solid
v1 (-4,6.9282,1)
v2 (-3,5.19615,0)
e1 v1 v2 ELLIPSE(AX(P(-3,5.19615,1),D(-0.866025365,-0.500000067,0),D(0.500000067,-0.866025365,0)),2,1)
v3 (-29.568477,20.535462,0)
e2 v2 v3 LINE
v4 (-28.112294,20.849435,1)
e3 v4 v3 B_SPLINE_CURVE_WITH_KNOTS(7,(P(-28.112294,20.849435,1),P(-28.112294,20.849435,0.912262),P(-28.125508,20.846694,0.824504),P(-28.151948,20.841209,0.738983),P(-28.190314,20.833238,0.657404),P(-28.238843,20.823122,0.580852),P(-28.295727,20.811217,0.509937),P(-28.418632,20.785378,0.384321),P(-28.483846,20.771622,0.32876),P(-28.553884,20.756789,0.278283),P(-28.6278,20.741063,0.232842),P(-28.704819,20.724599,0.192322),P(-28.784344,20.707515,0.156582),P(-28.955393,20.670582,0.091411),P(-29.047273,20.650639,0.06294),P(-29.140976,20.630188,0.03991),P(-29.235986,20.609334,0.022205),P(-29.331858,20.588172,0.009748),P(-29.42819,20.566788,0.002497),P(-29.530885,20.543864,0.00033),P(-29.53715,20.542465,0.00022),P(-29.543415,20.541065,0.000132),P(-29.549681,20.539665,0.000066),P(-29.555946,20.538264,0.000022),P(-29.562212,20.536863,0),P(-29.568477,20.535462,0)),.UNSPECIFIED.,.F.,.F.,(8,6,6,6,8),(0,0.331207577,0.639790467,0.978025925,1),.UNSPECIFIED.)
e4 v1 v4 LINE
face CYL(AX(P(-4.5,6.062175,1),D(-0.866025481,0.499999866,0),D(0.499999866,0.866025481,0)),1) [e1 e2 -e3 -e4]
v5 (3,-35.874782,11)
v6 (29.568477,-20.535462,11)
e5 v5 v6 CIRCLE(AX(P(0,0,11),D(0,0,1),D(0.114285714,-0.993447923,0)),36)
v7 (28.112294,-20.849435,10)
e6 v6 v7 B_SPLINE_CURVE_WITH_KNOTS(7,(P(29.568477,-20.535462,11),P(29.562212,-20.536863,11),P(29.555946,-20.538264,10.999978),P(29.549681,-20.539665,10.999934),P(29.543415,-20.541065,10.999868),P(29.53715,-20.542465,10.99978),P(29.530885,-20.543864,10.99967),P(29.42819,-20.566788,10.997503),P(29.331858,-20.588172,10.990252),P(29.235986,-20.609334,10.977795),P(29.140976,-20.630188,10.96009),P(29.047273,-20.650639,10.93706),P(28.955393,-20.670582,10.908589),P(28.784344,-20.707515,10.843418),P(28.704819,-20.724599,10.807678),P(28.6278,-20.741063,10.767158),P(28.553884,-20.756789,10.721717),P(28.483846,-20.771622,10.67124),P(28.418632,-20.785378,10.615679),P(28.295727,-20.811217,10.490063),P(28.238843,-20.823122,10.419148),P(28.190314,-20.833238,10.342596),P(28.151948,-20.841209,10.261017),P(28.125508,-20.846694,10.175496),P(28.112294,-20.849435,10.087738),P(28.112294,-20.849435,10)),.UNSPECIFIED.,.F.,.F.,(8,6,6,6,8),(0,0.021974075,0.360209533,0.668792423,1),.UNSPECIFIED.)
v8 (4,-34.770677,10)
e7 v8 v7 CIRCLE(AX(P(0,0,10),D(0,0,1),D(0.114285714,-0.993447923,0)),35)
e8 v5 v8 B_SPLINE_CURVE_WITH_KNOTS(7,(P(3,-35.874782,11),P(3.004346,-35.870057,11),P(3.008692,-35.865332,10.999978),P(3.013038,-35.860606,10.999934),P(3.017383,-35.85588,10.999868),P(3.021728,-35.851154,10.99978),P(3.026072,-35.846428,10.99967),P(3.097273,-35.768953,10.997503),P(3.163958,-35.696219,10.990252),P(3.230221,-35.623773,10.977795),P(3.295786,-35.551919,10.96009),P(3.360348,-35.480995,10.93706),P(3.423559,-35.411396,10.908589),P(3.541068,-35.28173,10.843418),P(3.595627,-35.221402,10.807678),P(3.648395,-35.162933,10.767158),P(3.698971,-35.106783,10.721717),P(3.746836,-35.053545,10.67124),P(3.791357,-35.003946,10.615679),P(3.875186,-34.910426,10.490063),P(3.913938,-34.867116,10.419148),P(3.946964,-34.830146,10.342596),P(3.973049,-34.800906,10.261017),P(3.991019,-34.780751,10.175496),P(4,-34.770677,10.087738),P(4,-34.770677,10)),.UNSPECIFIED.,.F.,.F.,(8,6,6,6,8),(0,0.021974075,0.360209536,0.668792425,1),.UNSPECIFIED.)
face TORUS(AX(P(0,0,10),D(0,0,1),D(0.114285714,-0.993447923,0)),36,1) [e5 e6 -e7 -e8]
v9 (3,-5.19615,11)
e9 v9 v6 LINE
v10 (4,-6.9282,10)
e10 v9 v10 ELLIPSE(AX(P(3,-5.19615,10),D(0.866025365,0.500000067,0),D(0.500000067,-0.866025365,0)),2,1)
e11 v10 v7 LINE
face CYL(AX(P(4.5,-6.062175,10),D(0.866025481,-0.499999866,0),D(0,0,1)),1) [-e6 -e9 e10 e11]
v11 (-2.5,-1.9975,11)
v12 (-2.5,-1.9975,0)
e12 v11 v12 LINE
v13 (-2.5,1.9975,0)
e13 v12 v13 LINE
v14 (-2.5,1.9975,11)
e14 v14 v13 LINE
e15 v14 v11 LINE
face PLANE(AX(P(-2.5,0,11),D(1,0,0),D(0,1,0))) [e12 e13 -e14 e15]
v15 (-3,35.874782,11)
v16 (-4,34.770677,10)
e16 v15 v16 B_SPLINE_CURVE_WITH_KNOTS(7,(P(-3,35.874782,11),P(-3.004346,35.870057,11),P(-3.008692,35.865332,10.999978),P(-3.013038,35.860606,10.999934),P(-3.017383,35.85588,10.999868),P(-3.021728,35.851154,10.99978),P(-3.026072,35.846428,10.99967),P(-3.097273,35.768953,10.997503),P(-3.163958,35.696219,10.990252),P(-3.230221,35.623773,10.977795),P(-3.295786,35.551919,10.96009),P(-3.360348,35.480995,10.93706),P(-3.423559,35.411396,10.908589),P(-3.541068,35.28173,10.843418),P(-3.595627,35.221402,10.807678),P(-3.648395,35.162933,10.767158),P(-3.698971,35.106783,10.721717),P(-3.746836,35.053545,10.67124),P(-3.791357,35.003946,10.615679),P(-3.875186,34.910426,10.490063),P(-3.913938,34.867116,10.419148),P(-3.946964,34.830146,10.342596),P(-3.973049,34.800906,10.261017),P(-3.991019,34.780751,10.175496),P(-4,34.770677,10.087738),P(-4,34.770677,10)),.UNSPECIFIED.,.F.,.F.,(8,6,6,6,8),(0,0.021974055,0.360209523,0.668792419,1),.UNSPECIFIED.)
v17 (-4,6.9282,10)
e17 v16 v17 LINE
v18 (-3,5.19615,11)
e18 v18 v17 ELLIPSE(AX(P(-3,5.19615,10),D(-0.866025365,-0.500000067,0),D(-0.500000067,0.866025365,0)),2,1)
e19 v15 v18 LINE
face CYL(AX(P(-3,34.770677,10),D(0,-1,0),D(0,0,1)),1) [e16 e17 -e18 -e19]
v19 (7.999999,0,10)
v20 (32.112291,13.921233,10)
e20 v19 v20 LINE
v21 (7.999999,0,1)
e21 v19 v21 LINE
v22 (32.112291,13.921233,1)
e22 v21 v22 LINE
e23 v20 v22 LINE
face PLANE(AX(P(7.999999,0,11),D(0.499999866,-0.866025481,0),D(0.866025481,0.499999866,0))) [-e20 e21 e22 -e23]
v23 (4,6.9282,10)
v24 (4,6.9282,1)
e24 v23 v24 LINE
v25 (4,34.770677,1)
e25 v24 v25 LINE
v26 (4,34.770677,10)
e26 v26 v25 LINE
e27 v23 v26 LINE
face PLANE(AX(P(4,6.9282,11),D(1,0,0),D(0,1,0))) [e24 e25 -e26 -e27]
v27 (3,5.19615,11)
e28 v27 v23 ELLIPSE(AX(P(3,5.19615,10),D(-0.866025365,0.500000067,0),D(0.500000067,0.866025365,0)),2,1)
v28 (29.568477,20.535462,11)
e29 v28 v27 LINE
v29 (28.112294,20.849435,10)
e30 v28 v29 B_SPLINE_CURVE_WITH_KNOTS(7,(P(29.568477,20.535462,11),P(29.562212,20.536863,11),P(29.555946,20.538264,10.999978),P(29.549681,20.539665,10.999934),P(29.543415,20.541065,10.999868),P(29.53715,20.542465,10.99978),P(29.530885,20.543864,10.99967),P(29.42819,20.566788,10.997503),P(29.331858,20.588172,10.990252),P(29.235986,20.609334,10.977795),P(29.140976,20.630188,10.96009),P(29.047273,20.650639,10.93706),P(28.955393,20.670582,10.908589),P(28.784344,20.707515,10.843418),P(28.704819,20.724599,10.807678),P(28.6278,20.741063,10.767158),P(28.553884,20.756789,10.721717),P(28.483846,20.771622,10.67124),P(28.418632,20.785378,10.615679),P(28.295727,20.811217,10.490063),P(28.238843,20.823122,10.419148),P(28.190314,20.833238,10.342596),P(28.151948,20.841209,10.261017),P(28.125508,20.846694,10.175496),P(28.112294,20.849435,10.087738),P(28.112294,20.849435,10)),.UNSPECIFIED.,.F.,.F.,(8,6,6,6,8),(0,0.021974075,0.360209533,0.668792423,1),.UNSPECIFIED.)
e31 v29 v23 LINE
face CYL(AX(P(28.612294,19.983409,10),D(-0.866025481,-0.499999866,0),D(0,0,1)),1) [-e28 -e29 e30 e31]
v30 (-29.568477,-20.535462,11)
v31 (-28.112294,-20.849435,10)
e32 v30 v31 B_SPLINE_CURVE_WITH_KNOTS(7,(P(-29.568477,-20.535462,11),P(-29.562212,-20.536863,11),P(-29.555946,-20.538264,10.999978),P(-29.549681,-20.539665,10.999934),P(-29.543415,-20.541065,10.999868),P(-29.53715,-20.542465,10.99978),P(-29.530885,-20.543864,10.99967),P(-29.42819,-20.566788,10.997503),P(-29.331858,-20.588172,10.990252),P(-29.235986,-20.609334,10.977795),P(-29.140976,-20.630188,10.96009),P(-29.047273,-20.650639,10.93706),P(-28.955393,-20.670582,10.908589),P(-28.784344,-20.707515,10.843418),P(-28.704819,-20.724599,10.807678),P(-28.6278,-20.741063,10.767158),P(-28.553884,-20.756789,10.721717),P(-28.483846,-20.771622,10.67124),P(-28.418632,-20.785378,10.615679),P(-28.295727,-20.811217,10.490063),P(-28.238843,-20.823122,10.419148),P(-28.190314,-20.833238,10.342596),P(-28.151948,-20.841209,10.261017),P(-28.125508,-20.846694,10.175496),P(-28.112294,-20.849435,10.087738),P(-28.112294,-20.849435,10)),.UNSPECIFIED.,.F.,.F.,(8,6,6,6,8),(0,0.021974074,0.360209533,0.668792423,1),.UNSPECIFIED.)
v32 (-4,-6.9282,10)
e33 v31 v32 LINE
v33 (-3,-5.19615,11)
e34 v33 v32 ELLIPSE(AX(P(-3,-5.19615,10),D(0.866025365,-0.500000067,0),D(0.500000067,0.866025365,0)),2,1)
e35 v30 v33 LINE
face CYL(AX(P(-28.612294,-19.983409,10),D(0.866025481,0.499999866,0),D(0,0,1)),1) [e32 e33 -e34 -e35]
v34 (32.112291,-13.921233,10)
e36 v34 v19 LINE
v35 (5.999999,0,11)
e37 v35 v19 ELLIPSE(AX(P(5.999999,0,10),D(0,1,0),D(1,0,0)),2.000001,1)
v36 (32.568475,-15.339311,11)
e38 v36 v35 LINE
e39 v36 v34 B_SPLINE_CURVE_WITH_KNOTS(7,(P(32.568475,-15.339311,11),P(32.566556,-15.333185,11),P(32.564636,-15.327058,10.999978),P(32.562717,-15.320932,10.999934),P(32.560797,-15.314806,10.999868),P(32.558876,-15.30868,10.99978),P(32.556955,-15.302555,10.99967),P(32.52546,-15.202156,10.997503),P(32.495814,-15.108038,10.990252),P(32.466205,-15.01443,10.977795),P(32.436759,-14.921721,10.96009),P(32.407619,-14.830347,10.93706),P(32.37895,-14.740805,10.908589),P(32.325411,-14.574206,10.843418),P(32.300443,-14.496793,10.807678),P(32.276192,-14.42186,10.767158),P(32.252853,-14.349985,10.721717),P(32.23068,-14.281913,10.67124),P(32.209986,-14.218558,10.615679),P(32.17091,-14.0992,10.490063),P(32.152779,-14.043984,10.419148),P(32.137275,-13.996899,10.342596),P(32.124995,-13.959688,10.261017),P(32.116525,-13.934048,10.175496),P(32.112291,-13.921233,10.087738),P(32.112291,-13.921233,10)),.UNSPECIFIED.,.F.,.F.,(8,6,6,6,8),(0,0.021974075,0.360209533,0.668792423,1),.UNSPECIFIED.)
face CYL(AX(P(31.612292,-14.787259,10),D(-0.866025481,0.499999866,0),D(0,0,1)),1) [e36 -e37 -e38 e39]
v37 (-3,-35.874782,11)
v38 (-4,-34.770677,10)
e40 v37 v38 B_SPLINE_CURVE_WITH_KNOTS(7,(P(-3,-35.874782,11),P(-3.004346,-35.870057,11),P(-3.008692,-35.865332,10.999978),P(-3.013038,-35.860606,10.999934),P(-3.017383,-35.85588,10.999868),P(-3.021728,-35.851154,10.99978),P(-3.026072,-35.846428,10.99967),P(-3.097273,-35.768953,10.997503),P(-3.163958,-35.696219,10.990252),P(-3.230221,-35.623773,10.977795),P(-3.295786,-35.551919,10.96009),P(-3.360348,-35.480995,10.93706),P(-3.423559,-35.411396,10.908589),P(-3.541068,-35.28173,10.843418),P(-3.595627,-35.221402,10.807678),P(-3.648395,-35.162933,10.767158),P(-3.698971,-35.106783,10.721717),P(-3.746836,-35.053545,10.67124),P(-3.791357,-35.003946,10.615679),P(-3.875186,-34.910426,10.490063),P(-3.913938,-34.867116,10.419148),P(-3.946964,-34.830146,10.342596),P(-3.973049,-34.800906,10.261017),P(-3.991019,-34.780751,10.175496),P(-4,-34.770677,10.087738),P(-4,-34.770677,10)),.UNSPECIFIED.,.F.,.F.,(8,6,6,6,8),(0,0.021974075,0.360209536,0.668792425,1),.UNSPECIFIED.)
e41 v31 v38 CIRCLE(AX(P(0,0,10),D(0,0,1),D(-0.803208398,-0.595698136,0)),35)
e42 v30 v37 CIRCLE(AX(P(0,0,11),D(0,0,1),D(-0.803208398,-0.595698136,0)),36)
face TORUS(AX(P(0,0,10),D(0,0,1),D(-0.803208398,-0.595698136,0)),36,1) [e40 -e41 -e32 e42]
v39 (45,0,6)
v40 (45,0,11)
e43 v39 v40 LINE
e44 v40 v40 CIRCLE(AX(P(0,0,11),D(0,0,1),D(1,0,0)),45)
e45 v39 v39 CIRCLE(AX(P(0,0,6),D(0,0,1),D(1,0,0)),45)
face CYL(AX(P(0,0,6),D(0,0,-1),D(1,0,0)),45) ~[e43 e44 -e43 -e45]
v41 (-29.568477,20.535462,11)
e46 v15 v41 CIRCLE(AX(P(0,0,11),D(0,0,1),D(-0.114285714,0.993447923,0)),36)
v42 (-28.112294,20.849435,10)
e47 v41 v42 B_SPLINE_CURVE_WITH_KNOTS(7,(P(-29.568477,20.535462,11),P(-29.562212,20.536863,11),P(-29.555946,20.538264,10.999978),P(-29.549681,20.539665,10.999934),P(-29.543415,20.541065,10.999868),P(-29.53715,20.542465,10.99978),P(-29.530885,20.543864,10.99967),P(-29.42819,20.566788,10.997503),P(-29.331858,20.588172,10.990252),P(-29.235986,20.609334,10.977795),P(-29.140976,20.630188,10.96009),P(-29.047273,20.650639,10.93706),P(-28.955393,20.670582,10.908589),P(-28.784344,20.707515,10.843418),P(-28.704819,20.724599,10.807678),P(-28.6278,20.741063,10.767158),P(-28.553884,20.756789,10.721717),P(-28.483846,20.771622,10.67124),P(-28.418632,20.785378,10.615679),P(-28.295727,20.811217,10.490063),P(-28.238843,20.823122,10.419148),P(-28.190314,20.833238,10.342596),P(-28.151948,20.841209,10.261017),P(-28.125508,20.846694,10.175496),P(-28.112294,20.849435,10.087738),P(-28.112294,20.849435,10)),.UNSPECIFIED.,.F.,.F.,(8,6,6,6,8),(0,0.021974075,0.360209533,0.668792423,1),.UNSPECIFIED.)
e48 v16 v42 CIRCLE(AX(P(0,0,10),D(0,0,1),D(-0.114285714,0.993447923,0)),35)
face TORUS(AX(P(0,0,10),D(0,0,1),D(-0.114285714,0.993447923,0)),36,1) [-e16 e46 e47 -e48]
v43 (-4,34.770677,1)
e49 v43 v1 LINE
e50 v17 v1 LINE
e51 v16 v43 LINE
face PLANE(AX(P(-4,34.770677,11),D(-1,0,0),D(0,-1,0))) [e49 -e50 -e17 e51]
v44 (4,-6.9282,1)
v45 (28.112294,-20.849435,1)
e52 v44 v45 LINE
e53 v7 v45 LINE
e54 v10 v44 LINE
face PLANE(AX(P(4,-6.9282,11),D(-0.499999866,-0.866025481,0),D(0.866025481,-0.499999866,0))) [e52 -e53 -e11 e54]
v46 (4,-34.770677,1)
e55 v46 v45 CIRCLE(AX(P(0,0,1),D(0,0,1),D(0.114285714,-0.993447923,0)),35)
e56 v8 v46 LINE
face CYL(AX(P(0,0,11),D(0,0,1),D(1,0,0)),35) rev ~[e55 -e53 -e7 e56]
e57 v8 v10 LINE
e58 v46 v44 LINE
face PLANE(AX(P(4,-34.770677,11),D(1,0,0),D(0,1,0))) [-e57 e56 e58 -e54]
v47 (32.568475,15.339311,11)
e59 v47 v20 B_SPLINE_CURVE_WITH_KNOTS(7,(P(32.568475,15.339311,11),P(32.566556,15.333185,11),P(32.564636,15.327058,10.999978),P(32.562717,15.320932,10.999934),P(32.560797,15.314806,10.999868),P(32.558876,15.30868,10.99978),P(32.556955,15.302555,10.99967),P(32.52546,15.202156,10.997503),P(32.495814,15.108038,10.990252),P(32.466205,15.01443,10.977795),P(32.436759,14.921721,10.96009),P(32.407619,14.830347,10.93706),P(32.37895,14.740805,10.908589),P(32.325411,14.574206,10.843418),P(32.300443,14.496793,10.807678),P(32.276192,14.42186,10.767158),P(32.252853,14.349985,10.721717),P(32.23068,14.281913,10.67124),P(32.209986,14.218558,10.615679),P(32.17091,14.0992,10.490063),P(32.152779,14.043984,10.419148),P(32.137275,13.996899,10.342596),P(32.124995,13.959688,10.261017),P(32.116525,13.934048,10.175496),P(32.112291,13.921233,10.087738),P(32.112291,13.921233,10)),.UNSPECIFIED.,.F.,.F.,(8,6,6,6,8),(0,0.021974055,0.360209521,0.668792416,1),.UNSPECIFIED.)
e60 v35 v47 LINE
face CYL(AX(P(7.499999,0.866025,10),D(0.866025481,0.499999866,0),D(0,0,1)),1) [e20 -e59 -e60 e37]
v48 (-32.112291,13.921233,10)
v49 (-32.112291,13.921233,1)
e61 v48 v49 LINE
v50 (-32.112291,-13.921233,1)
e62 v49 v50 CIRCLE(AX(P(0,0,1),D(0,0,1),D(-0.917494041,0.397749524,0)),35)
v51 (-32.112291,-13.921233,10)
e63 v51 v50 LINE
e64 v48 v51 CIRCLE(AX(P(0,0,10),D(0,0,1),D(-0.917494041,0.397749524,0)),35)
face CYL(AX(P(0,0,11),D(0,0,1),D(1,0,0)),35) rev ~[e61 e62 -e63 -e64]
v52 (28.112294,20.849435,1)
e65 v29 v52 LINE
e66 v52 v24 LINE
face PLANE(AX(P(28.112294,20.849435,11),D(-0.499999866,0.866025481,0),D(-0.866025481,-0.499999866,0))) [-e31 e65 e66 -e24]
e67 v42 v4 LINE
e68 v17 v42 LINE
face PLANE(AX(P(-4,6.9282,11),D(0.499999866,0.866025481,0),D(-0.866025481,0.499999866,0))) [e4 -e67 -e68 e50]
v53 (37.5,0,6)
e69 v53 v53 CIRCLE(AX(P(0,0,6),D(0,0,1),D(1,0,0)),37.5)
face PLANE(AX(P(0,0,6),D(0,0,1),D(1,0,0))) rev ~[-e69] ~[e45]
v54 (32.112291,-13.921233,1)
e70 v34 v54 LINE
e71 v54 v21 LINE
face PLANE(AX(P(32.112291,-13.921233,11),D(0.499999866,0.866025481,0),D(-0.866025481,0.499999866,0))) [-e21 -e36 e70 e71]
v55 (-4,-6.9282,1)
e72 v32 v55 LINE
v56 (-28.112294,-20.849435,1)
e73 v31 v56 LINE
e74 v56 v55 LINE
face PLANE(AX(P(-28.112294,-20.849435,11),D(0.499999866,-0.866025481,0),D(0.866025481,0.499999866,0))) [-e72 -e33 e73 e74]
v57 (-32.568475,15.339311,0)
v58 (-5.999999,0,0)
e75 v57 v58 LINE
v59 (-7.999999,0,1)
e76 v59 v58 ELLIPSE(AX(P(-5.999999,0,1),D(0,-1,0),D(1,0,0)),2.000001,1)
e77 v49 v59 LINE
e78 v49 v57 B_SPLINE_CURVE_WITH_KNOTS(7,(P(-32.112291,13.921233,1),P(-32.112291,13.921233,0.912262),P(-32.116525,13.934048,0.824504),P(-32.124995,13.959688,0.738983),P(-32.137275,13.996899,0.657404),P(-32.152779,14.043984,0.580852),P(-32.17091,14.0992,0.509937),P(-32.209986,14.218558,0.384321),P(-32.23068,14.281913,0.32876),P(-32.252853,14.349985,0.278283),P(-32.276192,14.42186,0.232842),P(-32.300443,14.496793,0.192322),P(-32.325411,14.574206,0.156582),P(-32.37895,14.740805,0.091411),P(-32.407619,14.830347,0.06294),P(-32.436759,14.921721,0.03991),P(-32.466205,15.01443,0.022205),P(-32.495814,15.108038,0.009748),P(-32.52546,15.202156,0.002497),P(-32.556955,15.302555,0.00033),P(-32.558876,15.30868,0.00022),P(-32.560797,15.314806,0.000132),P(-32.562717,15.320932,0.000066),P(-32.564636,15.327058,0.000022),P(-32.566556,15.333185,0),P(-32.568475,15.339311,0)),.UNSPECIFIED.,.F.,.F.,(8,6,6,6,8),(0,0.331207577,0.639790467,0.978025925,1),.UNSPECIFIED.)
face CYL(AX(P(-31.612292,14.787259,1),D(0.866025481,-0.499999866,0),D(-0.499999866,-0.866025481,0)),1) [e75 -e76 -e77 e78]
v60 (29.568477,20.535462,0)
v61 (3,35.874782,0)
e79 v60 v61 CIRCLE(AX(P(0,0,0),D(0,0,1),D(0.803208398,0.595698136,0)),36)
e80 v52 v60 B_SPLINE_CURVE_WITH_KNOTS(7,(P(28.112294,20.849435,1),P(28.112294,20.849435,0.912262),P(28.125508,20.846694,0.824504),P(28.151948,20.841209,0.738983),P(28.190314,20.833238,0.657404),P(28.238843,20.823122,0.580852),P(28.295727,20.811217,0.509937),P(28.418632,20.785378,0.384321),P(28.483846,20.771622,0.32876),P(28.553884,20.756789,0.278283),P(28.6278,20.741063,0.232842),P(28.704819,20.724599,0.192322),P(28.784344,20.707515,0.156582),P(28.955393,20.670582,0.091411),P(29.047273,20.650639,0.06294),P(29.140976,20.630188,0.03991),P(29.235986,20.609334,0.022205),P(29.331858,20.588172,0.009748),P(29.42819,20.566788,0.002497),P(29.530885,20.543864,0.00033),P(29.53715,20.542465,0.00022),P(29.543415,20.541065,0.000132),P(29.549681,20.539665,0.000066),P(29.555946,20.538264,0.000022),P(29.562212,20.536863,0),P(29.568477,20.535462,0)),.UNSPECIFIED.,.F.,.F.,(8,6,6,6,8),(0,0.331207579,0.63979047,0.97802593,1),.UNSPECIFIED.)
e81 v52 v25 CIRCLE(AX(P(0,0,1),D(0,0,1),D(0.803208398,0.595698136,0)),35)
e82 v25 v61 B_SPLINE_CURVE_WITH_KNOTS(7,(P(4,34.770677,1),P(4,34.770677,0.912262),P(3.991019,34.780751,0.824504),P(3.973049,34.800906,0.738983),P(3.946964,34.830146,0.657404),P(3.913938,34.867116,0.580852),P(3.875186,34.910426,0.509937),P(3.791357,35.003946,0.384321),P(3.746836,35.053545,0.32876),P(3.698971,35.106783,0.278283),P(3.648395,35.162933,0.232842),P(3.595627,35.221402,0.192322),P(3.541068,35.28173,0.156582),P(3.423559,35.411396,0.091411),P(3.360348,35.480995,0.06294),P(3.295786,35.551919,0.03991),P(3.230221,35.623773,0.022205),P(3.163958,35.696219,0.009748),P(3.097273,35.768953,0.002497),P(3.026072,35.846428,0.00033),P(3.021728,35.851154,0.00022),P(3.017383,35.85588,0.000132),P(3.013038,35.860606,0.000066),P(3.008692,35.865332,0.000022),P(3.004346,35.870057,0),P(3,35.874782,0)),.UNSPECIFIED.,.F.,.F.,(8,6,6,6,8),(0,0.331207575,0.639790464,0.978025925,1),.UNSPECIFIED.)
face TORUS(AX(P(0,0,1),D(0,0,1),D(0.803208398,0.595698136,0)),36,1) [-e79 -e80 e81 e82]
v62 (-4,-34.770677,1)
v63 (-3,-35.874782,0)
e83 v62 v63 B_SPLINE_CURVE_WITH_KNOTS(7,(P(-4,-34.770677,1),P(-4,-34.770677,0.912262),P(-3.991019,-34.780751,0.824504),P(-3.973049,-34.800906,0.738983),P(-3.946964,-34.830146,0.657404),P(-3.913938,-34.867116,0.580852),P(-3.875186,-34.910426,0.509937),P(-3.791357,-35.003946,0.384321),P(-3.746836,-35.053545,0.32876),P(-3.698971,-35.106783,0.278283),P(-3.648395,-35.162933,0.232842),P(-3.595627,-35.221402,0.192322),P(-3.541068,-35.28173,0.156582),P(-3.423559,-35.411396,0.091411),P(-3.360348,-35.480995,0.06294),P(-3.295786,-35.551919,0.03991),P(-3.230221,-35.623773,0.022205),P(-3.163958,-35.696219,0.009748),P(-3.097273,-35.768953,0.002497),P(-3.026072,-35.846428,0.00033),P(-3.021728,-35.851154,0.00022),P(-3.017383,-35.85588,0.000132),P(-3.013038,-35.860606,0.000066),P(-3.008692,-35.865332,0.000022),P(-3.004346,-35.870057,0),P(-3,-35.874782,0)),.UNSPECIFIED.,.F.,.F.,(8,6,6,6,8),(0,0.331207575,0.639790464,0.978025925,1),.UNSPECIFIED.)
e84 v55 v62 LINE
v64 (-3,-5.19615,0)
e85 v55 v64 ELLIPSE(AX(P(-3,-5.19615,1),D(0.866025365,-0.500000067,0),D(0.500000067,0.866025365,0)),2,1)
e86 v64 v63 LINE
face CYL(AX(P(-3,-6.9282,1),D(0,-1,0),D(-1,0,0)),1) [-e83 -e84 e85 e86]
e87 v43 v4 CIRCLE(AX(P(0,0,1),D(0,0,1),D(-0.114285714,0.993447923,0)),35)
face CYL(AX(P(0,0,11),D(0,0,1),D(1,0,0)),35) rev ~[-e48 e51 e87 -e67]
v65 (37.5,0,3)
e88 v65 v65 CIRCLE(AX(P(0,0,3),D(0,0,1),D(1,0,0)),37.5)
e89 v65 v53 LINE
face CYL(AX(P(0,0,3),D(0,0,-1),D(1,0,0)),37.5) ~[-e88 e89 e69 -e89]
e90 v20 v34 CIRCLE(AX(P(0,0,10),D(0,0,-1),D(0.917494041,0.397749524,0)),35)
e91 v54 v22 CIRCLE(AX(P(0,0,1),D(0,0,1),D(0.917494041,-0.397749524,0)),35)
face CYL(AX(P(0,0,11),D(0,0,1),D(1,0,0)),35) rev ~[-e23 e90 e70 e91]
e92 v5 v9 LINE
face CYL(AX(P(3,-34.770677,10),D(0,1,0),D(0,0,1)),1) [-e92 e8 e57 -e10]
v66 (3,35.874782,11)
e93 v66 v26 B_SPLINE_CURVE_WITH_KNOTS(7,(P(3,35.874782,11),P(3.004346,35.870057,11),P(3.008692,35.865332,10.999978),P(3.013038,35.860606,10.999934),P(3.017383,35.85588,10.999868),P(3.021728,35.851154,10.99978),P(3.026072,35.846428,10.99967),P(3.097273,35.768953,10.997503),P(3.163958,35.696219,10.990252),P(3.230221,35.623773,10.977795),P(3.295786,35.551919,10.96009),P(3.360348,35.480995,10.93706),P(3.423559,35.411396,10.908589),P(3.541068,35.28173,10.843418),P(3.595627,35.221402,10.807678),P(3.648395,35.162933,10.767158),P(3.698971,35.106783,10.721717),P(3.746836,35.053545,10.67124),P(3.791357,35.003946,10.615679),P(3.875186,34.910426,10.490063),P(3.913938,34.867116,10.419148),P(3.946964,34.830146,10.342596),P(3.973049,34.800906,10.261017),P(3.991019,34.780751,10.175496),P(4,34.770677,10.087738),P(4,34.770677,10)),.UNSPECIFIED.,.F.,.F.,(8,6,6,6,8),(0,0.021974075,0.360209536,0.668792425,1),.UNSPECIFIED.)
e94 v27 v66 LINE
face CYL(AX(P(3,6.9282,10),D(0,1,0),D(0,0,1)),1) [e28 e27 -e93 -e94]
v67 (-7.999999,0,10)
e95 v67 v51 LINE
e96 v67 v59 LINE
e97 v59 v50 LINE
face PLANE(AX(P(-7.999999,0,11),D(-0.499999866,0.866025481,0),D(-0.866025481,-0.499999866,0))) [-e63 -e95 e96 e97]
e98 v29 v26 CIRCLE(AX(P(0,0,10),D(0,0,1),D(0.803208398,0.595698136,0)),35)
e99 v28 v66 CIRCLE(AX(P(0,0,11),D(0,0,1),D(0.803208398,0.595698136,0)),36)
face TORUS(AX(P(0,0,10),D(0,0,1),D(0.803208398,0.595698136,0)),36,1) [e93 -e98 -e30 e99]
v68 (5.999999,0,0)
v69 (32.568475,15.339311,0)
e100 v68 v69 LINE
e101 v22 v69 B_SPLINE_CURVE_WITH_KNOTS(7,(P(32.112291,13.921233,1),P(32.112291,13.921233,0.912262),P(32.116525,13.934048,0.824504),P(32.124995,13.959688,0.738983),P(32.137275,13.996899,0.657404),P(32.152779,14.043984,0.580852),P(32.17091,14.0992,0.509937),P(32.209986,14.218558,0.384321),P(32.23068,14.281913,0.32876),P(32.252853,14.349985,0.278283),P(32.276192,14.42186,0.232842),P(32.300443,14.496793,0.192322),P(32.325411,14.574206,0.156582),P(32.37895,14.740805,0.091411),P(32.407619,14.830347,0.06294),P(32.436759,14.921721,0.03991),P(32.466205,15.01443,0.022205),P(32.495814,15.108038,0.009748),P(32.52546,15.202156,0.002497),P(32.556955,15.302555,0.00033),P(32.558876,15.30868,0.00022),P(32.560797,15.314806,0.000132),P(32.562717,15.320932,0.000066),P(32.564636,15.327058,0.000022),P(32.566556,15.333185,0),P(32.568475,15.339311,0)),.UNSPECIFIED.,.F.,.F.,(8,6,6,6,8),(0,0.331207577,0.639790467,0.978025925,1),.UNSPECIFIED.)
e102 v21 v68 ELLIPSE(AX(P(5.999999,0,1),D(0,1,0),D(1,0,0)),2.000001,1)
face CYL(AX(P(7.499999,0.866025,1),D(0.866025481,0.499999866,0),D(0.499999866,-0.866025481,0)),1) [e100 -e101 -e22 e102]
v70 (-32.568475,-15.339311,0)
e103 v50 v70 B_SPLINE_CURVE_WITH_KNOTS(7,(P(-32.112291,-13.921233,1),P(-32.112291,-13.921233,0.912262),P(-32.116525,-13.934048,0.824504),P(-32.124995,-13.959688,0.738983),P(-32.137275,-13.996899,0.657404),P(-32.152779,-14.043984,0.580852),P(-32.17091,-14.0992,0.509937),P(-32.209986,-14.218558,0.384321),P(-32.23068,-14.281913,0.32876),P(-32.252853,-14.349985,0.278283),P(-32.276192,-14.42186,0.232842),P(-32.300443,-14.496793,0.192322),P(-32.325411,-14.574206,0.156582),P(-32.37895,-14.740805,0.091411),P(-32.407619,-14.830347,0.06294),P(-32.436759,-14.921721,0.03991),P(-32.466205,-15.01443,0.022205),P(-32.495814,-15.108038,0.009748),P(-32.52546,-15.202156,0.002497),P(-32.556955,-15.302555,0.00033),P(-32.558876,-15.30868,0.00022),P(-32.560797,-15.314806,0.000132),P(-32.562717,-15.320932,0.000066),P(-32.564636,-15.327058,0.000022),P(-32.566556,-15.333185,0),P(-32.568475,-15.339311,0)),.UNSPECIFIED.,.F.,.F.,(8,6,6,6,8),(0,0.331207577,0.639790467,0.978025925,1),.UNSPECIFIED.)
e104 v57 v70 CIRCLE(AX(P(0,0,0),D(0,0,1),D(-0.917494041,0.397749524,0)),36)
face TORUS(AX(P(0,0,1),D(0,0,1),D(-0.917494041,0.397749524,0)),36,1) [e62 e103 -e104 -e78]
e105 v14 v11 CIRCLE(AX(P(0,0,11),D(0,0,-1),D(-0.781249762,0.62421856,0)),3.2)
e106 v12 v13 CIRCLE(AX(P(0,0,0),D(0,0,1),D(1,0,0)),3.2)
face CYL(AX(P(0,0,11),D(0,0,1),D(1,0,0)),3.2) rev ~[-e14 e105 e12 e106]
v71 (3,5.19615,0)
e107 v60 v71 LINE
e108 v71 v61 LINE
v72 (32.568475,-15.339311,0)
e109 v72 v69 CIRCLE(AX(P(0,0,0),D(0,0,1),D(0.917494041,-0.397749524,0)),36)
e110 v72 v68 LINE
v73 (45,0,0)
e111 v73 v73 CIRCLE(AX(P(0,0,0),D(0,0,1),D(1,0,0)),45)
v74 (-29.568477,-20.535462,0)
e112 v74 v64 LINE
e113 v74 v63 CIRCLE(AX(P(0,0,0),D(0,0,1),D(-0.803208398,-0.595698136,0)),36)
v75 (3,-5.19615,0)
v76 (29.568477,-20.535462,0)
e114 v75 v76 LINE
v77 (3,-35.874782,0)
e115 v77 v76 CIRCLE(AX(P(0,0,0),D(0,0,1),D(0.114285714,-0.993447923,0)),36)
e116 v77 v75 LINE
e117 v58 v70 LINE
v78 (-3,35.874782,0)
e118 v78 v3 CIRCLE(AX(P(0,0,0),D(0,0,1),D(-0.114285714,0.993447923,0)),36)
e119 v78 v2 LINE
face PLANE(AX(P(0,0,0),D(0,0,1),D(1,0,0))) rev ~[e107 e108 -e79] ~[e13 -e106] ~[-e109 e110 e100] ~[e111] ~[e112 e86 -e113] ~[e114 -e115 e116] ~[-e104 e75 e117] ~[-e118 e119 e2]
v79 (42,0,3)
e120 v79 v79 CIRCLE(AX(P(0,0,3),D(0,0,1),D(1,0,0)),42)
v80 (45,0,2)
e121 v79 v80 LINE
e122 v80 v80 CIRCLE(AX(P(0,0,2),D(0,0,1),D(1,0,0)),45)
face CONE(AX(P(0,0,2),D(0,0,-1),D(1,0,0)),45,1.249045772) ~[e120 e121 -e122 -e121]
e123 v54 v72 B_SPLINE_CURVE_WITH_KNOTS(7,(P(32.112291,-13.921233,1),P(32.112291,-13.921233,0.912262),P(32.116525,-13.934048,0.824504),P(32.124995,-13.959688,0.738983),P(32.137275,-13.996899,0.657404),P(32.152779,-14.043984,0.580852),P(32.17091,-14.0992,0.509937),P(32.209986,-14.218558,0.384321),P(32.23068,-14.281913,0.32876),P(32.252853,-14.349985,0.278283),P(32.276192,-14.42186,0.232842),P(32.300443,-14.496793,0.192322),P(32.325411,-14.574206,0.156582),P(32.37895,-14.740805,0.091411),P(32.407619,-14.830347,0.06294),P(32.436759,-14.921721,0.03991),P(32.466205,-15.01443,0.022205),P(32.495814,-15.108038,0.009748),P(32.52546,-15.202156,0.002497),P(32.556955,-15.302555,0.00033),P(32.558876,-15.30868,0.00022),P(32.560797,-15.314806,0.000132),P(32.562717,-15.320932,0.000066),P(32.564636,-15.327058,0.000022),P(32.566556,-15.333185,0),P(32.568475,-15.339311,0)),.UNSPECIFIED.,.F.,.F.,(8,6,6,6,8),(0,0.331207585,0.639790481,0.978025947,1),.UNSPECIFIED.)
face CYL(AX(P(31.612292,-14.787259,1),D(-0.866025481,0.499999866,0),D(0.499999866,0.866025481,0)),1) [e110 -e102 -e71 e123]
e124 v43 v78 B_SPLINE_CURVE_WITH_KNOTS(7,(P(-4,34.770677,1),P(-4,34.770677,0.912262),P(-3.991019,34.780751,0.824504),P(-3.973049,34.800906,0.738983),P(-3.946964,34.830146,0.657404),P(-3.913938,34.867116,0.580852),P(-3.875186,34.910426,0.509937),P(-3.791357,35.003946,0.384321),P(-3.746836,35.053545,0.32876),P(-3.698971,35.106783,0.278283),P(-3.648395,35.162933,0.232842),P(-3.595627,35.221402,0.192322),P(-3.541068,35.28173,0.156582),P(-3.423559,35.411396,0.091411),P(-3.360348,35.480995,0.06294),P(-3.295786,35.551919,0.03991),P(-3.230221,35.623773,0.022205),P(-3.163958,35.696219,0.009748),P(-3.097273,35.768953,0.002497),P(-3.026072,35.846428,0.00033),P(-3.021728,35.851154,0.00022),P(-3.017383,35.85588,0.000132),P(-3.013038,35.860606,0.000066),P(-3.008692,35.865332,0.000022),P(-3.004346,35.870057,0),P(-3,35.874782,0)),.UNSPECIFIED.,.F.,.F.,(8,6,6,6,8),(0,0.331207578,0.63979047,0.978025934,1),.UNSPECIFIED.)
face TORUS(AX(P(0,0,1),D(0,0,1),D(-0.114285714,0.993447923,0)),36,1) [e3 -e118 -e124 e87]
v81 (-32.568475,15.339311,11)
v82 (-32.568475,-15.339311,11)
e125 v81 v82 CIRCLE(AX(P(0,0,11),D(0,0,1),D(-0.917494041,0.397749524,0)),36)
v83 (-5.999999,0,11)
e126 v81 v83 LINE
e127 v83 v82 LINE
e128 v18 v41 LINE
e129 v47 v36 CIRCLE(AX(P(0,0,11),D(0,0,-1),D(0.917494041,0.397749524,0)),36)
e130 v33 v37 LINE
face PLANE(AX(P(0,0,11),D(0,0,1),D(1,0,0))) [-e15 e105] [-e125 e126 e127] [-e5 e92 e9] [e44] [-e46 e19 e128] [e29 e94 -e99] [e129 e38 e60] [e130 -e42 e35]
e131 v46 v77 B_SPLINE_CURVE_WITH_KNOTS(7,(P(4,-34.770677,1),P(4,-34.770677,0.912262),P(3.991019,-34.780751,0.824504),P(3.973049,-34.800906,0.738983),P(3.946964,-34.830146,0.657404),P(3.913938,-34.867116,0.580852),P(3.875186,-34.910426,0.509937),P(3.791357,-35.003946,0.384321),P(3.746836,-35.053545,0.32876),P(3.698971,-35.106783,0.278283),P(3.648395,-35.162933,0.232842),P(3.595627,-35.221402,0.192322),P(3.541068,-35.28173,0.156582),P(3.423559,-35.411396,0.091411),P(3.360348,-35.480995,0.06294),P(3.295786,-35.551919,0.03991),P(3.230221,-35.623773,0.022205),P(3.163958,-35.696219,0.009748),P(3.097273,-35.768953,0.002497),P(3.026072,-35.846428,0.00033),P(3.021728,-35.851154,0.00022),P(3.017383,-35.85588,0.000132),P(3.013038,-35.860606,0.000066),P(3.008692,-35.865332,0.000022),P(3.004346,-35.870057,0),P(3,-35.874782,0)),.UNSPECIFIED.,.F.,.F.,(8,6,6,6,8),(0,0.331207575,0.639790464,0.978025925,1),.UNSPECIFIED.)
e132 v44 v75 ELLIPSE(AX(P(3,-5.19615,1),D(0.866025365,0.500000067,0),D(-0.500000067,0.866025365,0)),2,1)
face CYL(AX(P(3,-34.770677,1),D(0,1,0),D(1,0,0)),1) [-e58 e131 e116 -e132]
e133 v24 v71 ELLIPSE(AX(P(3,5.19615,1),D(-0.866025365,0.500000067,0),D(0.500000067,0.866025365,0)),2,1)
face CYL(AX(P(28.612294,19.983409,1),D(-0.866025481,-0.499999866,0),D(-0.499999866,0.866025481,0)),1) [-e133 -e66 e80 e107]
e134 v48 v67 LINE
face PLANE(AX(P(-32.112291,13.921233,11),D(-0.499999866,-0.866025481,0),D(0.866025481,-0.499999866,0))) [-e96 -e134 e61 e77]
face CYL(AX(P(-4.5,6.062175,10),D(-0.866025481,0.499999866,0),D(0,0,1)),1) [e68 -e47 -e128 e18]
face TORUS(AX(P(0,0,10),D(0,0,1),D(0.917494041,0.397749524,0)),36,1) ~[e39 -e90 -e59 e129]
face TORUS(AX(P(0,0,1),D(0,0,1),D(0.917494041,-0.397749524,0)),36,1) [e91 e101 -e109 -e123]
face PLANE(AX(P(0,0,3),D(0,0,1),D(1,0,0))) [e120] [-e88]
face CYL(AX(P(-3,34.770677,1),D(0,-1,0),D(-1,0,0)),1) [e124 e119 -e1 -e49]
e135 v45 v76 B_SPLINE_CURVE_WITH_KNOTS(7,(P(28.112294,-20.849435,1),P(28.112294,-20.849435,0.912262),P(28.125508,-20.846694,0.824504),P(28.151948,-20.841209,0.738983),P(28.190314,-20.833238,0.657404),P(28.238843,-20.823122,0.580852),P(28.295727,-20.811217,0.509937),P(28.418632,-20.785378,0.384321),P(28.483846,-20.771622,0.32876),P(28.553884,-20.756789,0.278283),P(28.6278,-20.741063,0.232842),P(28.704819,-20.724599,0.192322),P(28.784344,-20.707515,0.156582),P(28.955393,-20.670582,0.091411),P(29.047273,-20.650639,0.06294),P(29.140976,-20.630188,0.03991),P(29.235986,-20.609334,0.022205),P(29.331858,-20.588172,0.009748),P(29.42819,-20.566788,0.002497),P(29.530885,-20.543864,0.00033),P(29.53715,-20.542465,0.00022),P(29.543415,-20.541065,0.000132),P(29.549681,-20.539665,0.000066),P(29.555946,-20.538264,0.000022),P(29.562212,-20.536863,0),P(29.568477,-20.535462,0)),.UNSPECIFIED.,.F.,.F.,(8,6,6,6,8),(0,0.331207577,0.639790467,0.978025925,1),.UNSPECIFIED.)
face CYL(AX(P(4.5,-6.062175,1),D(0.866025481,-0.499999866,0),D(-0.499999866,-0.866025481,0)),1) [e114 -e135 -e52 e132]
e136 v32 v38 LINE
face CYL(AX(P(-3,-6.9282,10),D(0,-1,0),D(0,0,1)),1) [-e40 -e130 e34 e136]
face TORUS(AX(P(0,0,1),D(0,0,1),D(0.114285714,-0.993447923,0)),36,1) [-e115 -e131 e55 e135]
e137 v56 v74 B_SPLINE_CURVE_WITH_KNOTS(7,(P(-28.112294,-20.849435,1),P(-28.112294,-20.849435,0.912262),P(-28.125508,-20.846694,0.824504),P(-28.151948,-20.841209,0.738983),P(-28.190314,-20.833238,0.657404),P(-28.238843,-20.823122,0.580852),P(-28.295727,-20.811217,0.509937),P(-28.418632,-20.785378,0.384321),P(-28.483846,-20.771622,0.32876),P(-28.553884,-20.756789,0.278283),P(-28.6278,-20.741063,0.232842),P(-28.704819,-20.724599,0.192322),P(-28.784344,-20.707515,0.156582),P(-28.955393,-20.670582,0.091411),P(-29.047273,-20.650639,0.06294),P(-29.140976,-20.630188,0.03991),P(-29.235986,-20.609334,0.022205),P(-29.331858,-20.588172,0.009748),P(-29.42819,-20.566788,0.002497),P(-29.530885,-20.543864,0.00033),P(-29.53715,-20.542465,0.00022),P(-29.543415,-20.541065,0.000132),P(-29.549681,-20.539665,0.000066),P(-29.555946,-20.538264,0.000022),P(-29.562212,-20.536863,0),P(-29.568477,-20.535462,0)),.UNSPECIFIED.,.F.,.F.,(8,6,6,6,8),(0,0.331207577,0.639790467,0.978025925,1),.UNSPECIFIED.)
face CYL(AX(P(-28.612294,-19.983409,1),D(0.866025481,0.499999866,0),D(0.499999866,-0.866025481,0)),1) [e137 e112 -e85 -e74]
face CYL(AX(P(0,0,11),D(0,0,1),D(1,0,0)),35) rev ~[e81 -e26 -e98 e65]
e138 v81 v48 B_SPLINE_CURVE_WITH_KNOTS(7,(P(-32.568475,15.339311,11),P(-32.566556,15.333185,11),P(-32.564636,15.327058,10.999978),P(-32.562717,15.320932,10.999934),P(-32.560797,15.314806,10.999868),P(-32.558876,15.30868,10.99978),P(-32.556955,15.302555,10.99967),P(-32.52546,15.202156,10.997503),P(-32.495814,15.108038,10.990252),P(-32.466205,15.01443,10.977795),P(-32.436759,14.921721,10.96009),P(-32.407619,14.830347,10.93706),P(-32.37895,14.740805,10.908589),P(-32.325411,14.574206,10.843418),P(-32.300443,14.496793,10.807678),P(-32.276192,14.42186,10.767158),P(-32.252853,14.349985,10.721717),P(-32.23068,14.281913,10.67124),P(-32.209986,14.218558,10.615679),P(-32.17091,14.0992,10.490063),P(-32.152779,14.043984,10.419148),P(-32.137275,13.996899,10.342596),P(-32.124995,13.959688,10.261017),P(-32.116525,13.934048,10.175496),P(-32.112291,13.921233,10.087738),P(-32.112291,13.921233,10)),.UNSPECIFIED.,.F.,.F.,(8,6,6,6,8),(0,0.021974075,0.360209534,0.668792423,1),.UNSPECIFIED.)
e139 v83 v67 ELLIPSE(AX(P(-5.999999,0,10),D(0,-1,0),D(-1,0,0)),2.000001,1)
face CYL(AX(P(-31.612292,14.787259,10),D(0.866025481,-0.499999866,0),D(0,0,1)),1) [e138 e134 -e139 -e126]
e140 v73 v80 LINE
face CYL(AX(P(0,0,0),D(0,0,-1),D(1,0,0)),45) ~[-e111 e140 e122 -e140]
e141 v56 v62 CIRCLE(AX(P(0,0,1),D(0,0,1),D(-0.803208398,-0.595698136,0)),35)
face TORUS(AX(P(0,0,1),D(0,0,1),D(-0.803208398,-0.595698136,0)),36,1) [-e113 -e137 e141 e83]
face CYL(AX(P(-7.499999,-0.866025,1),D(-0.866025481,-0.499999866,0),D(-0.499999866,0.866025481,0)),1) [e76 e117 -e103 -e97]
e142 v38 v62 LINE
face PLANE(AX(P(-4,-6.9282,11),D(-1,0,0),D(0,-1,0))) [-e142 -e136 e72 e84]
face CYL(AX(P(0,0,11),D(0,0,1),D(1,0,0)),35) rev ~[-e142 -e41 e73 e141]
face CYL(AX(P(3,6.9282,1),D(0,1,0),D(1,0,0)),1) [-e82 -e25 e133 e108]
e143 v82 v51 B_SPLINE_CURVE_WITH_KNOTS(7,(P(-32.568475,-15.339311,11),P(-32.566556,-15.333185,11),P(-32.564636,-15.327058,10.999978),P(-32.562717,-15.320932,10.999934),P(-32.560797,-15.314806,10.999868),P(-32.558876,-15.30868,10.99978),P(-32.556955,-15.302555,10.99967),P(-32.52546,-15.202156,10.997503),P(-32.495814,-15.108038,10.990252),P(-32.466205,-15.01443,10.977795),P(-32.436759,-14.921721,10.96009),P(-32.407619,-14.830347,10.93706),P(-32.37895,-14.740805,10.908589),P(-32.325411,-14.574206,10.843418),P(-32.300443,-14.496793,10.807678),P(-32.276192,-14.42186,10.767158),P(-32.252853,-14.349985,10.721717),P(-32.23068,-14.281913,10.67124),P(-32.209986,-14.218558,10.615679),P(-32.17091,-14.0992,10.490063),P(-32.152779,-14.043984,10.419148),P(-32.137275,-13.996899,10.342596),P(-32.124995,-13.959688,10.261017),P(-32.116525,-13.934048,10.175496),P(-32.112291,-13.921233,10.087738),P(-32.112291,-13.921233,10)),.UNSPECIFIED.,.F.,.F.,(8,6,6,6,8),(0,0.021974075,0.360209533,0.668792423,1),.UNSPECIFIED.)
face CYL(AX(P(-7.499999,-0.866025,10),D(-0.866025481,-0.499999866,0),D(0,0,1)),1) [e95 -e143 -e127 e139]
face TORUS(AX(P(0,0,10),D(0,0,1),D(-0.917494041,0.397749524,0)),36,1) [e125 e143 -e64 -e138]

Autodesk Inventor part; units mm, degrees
ref_plane "YZ Plane" through (0, 0, 0) normal (1, 0, 0) x (0, 1, 0)
ref_plane "XZ Plane" through (0, 0, 0) normal (0, 1, 0) x (-1, 0, 0)
ref_plane "XY Plane" through (0, 0, 0) normal (0, 0, 1) x (1, 0, 0)
sketch "스케치1" plane through (0, 0, 0) normal (0, 0, 1) x (1, 0, 0)
  circle A0 centre (0, 0) radius 45
  dimension "d0" = 90
extrude "돌출1" add sketch "스케치1" along normal blind 3
sketch "스케치2" plane through (0, 0, 3) normal (0, 0, 1) x (1, 0, 0)
  circle A0 centre (0, 0) radius 45 projected
  circle A1 centre (0, 0) radius 37.5
  dimension "d3" = 75
extrude "돌출2" add sketch "스케치2" along normal blind 3 contours A1
sketch "스케치3" plane through (0, 0, 6) normal (0, 0, 1) x (1, 0, 0)
  circle A0 centre (0, 0) radius 37.5 projected
  circle A1 centre (0, 0) radius 45
  dimension "d6" = 90
extrude "돌출3" add sketch "스케치3" along normal blind 5 contours A0 | A1
sketch "스케치4" plane through (0, 0, 11) normal (0, 0, 1) x (1, 0, 0)
  circle A0 centre (0, 0) radius 45 projected
  circle A1 centre (0, 0) radius 3.2
  line L0 (-2.5, -1.9975) -> (-2.5, 1.9975)
  circle A2 centre (0, 0) radius 35
  line L1 (4, 0) -> (-4, 0)
  line L2 (-4, 0) -> (-4, -35)
  line L3 (-4, -35) -> (4, -35)
  line L4 (4, -35) -> (4, 0)
  line L5 (32.3109, -14.0359) -> (2, 3.4641)
  line L6 (-2, -3.4641) -> (28.3109, -20.9641)
  line L7 (28.3109, -20.9641) -> (32.3109, -14.0359)
  line L8 (2, 3.4641) -> (-2, -3.4641)
  line L9 (28.3109, 20.9641) -> (-2, 3.4641)
  line L10 (2, -3.4641) -> (32.3109, 14.0359)
  line L11 (32.3109, 14.0359) -> (28.3109, 20.9641)
  line L12 (-2, 3.4641) -> (2, -3.4641)
  line L13 (-4, 35) -> (-4, 0)
  line L14 (4, 0) -> (4, 35)
  line L15 (4, 35) -> (-4, 35)
  line L16 (-4, 0) -> (4, 0)
  line L17 (-32.3109, 14.0359) -> (-2, -3.4641)
  line L18 (2, 3.4641) -> (-28.3109, 20.9641)
  line L19 (-28.3109, 20.9641) -> (-32.3109, 14.0359)
  line L20 (-2, -3.4641) -> (2, 3.4641)
  line L21 (-28.3109, -20.9641) -> (2, -3.4641)
  line L22 (-2, 3.4641) -> (-32.3109, -14.0359)
  line L23 (-32.3109, -14.0359) -> (-28.3109, -20.9641)
  line L24 (2, -3.4641) -> (-2, 3.4641)
  point P0 (32.1123, 13.9212)
  point P1 (8, 0)
  point P2 (32.1123, -13.9212)
  point P3 (4, 34.7707)
  point P4 (4, 6.9282)
  point P5 (28.1123, 20.8494)
  point P6 (-28.1123, 20.8494)
  point P7 (-4, 6.9282)
  point P8 (-4, 34.7707)
  point P9 (-32.1123, -13.9212)
  point P10 (-8, 0)
  point P11 (-32.1123, 13.9212)
  point P12 (-4, -6.9282)
  point P13 (-28.1123, -20.8494)
  point P14 (-4, -34.7707)
  point P15 (28.1123, -20.8494)
  point P16 (4, -6.9282)
  point P17 (4, -34.7707)
  point P18 (0, 0)
  point P19 (0, 0)
  point P20 (0, 0)
  point P21 (0, 0)
  point P22 (0, 0)
  point P23 (0, 0)
  dimension "d10" = 6.4
  dimension "d11" = 2.5
  dimension "d14" = 70
  dimension "d15" = 8
  dimension "d16" = 35
  dimension "d19" = 360
extrude "돌출4" cut sketch "스케치4" against normal through all contours L1 L8 A1 | A1 L12 L1 | L8 L12 A1 | A1 L8 L12 | L8 A1 L0 L1 | L1 L0 A1 L12 | L6 A2 L4 | L10 A2 L5 | L14 A2 L9 | L18 A2 L13 | L2 A2 L21 | L22 A2 L17
fillet "모깎기2" radius 1 36 edges at (-20.0561, -6.9606, 11) (-16.0561, -13.8888, 11) (-35, 0, 11) (-20.0561, 6.9606, 11) (-16.0561, 13.8888, 11) (-17.5, 30.3109, 11) (-4, 20.8494, 11) (4, 20.8494, 11) (17.5, 30.3109, 11) (16.0561, 13.8888, 11) (20.0561, 6.9606, 11) (20.0561, 6.9606, 0) (35, 0, 11) (4, 20.8494, 0) (17.5, 30.3109, 0) (20.0561, -6.9606, 11) (16.0561, -13.8888, 11) (4, -20.8494, 11) (4, -20.8494, 0) (16.0561, -13.8888, 0) (-4, -20.8494, 11) (-16.0561, -13.8888, 0) (-20.0561, 6.9606, 0) (-17.5, 30.3109, 0) (-35, 0, 0) (-17.5, -30.3109, 0) (-17.5, -30.3109, 11) (-4, -20.8494, 0) (17.5, -30.3109, 11) (17.5, -30.3109, 0) (35, 0, 0) (20.0561, -6.9606, 0) (-4, 20.8494, 0) (-16.0561, 13.8888, 0) (16.0561, 13.8888, 0) (-20.0561, -6.9606, 0)
chamfer "모따기1" distance 3 distance2 1 1 edges at (-45, 0, 3) measured on face at (42.1722, 3.1187, 3)
properties part number "_3D 인쇄"
